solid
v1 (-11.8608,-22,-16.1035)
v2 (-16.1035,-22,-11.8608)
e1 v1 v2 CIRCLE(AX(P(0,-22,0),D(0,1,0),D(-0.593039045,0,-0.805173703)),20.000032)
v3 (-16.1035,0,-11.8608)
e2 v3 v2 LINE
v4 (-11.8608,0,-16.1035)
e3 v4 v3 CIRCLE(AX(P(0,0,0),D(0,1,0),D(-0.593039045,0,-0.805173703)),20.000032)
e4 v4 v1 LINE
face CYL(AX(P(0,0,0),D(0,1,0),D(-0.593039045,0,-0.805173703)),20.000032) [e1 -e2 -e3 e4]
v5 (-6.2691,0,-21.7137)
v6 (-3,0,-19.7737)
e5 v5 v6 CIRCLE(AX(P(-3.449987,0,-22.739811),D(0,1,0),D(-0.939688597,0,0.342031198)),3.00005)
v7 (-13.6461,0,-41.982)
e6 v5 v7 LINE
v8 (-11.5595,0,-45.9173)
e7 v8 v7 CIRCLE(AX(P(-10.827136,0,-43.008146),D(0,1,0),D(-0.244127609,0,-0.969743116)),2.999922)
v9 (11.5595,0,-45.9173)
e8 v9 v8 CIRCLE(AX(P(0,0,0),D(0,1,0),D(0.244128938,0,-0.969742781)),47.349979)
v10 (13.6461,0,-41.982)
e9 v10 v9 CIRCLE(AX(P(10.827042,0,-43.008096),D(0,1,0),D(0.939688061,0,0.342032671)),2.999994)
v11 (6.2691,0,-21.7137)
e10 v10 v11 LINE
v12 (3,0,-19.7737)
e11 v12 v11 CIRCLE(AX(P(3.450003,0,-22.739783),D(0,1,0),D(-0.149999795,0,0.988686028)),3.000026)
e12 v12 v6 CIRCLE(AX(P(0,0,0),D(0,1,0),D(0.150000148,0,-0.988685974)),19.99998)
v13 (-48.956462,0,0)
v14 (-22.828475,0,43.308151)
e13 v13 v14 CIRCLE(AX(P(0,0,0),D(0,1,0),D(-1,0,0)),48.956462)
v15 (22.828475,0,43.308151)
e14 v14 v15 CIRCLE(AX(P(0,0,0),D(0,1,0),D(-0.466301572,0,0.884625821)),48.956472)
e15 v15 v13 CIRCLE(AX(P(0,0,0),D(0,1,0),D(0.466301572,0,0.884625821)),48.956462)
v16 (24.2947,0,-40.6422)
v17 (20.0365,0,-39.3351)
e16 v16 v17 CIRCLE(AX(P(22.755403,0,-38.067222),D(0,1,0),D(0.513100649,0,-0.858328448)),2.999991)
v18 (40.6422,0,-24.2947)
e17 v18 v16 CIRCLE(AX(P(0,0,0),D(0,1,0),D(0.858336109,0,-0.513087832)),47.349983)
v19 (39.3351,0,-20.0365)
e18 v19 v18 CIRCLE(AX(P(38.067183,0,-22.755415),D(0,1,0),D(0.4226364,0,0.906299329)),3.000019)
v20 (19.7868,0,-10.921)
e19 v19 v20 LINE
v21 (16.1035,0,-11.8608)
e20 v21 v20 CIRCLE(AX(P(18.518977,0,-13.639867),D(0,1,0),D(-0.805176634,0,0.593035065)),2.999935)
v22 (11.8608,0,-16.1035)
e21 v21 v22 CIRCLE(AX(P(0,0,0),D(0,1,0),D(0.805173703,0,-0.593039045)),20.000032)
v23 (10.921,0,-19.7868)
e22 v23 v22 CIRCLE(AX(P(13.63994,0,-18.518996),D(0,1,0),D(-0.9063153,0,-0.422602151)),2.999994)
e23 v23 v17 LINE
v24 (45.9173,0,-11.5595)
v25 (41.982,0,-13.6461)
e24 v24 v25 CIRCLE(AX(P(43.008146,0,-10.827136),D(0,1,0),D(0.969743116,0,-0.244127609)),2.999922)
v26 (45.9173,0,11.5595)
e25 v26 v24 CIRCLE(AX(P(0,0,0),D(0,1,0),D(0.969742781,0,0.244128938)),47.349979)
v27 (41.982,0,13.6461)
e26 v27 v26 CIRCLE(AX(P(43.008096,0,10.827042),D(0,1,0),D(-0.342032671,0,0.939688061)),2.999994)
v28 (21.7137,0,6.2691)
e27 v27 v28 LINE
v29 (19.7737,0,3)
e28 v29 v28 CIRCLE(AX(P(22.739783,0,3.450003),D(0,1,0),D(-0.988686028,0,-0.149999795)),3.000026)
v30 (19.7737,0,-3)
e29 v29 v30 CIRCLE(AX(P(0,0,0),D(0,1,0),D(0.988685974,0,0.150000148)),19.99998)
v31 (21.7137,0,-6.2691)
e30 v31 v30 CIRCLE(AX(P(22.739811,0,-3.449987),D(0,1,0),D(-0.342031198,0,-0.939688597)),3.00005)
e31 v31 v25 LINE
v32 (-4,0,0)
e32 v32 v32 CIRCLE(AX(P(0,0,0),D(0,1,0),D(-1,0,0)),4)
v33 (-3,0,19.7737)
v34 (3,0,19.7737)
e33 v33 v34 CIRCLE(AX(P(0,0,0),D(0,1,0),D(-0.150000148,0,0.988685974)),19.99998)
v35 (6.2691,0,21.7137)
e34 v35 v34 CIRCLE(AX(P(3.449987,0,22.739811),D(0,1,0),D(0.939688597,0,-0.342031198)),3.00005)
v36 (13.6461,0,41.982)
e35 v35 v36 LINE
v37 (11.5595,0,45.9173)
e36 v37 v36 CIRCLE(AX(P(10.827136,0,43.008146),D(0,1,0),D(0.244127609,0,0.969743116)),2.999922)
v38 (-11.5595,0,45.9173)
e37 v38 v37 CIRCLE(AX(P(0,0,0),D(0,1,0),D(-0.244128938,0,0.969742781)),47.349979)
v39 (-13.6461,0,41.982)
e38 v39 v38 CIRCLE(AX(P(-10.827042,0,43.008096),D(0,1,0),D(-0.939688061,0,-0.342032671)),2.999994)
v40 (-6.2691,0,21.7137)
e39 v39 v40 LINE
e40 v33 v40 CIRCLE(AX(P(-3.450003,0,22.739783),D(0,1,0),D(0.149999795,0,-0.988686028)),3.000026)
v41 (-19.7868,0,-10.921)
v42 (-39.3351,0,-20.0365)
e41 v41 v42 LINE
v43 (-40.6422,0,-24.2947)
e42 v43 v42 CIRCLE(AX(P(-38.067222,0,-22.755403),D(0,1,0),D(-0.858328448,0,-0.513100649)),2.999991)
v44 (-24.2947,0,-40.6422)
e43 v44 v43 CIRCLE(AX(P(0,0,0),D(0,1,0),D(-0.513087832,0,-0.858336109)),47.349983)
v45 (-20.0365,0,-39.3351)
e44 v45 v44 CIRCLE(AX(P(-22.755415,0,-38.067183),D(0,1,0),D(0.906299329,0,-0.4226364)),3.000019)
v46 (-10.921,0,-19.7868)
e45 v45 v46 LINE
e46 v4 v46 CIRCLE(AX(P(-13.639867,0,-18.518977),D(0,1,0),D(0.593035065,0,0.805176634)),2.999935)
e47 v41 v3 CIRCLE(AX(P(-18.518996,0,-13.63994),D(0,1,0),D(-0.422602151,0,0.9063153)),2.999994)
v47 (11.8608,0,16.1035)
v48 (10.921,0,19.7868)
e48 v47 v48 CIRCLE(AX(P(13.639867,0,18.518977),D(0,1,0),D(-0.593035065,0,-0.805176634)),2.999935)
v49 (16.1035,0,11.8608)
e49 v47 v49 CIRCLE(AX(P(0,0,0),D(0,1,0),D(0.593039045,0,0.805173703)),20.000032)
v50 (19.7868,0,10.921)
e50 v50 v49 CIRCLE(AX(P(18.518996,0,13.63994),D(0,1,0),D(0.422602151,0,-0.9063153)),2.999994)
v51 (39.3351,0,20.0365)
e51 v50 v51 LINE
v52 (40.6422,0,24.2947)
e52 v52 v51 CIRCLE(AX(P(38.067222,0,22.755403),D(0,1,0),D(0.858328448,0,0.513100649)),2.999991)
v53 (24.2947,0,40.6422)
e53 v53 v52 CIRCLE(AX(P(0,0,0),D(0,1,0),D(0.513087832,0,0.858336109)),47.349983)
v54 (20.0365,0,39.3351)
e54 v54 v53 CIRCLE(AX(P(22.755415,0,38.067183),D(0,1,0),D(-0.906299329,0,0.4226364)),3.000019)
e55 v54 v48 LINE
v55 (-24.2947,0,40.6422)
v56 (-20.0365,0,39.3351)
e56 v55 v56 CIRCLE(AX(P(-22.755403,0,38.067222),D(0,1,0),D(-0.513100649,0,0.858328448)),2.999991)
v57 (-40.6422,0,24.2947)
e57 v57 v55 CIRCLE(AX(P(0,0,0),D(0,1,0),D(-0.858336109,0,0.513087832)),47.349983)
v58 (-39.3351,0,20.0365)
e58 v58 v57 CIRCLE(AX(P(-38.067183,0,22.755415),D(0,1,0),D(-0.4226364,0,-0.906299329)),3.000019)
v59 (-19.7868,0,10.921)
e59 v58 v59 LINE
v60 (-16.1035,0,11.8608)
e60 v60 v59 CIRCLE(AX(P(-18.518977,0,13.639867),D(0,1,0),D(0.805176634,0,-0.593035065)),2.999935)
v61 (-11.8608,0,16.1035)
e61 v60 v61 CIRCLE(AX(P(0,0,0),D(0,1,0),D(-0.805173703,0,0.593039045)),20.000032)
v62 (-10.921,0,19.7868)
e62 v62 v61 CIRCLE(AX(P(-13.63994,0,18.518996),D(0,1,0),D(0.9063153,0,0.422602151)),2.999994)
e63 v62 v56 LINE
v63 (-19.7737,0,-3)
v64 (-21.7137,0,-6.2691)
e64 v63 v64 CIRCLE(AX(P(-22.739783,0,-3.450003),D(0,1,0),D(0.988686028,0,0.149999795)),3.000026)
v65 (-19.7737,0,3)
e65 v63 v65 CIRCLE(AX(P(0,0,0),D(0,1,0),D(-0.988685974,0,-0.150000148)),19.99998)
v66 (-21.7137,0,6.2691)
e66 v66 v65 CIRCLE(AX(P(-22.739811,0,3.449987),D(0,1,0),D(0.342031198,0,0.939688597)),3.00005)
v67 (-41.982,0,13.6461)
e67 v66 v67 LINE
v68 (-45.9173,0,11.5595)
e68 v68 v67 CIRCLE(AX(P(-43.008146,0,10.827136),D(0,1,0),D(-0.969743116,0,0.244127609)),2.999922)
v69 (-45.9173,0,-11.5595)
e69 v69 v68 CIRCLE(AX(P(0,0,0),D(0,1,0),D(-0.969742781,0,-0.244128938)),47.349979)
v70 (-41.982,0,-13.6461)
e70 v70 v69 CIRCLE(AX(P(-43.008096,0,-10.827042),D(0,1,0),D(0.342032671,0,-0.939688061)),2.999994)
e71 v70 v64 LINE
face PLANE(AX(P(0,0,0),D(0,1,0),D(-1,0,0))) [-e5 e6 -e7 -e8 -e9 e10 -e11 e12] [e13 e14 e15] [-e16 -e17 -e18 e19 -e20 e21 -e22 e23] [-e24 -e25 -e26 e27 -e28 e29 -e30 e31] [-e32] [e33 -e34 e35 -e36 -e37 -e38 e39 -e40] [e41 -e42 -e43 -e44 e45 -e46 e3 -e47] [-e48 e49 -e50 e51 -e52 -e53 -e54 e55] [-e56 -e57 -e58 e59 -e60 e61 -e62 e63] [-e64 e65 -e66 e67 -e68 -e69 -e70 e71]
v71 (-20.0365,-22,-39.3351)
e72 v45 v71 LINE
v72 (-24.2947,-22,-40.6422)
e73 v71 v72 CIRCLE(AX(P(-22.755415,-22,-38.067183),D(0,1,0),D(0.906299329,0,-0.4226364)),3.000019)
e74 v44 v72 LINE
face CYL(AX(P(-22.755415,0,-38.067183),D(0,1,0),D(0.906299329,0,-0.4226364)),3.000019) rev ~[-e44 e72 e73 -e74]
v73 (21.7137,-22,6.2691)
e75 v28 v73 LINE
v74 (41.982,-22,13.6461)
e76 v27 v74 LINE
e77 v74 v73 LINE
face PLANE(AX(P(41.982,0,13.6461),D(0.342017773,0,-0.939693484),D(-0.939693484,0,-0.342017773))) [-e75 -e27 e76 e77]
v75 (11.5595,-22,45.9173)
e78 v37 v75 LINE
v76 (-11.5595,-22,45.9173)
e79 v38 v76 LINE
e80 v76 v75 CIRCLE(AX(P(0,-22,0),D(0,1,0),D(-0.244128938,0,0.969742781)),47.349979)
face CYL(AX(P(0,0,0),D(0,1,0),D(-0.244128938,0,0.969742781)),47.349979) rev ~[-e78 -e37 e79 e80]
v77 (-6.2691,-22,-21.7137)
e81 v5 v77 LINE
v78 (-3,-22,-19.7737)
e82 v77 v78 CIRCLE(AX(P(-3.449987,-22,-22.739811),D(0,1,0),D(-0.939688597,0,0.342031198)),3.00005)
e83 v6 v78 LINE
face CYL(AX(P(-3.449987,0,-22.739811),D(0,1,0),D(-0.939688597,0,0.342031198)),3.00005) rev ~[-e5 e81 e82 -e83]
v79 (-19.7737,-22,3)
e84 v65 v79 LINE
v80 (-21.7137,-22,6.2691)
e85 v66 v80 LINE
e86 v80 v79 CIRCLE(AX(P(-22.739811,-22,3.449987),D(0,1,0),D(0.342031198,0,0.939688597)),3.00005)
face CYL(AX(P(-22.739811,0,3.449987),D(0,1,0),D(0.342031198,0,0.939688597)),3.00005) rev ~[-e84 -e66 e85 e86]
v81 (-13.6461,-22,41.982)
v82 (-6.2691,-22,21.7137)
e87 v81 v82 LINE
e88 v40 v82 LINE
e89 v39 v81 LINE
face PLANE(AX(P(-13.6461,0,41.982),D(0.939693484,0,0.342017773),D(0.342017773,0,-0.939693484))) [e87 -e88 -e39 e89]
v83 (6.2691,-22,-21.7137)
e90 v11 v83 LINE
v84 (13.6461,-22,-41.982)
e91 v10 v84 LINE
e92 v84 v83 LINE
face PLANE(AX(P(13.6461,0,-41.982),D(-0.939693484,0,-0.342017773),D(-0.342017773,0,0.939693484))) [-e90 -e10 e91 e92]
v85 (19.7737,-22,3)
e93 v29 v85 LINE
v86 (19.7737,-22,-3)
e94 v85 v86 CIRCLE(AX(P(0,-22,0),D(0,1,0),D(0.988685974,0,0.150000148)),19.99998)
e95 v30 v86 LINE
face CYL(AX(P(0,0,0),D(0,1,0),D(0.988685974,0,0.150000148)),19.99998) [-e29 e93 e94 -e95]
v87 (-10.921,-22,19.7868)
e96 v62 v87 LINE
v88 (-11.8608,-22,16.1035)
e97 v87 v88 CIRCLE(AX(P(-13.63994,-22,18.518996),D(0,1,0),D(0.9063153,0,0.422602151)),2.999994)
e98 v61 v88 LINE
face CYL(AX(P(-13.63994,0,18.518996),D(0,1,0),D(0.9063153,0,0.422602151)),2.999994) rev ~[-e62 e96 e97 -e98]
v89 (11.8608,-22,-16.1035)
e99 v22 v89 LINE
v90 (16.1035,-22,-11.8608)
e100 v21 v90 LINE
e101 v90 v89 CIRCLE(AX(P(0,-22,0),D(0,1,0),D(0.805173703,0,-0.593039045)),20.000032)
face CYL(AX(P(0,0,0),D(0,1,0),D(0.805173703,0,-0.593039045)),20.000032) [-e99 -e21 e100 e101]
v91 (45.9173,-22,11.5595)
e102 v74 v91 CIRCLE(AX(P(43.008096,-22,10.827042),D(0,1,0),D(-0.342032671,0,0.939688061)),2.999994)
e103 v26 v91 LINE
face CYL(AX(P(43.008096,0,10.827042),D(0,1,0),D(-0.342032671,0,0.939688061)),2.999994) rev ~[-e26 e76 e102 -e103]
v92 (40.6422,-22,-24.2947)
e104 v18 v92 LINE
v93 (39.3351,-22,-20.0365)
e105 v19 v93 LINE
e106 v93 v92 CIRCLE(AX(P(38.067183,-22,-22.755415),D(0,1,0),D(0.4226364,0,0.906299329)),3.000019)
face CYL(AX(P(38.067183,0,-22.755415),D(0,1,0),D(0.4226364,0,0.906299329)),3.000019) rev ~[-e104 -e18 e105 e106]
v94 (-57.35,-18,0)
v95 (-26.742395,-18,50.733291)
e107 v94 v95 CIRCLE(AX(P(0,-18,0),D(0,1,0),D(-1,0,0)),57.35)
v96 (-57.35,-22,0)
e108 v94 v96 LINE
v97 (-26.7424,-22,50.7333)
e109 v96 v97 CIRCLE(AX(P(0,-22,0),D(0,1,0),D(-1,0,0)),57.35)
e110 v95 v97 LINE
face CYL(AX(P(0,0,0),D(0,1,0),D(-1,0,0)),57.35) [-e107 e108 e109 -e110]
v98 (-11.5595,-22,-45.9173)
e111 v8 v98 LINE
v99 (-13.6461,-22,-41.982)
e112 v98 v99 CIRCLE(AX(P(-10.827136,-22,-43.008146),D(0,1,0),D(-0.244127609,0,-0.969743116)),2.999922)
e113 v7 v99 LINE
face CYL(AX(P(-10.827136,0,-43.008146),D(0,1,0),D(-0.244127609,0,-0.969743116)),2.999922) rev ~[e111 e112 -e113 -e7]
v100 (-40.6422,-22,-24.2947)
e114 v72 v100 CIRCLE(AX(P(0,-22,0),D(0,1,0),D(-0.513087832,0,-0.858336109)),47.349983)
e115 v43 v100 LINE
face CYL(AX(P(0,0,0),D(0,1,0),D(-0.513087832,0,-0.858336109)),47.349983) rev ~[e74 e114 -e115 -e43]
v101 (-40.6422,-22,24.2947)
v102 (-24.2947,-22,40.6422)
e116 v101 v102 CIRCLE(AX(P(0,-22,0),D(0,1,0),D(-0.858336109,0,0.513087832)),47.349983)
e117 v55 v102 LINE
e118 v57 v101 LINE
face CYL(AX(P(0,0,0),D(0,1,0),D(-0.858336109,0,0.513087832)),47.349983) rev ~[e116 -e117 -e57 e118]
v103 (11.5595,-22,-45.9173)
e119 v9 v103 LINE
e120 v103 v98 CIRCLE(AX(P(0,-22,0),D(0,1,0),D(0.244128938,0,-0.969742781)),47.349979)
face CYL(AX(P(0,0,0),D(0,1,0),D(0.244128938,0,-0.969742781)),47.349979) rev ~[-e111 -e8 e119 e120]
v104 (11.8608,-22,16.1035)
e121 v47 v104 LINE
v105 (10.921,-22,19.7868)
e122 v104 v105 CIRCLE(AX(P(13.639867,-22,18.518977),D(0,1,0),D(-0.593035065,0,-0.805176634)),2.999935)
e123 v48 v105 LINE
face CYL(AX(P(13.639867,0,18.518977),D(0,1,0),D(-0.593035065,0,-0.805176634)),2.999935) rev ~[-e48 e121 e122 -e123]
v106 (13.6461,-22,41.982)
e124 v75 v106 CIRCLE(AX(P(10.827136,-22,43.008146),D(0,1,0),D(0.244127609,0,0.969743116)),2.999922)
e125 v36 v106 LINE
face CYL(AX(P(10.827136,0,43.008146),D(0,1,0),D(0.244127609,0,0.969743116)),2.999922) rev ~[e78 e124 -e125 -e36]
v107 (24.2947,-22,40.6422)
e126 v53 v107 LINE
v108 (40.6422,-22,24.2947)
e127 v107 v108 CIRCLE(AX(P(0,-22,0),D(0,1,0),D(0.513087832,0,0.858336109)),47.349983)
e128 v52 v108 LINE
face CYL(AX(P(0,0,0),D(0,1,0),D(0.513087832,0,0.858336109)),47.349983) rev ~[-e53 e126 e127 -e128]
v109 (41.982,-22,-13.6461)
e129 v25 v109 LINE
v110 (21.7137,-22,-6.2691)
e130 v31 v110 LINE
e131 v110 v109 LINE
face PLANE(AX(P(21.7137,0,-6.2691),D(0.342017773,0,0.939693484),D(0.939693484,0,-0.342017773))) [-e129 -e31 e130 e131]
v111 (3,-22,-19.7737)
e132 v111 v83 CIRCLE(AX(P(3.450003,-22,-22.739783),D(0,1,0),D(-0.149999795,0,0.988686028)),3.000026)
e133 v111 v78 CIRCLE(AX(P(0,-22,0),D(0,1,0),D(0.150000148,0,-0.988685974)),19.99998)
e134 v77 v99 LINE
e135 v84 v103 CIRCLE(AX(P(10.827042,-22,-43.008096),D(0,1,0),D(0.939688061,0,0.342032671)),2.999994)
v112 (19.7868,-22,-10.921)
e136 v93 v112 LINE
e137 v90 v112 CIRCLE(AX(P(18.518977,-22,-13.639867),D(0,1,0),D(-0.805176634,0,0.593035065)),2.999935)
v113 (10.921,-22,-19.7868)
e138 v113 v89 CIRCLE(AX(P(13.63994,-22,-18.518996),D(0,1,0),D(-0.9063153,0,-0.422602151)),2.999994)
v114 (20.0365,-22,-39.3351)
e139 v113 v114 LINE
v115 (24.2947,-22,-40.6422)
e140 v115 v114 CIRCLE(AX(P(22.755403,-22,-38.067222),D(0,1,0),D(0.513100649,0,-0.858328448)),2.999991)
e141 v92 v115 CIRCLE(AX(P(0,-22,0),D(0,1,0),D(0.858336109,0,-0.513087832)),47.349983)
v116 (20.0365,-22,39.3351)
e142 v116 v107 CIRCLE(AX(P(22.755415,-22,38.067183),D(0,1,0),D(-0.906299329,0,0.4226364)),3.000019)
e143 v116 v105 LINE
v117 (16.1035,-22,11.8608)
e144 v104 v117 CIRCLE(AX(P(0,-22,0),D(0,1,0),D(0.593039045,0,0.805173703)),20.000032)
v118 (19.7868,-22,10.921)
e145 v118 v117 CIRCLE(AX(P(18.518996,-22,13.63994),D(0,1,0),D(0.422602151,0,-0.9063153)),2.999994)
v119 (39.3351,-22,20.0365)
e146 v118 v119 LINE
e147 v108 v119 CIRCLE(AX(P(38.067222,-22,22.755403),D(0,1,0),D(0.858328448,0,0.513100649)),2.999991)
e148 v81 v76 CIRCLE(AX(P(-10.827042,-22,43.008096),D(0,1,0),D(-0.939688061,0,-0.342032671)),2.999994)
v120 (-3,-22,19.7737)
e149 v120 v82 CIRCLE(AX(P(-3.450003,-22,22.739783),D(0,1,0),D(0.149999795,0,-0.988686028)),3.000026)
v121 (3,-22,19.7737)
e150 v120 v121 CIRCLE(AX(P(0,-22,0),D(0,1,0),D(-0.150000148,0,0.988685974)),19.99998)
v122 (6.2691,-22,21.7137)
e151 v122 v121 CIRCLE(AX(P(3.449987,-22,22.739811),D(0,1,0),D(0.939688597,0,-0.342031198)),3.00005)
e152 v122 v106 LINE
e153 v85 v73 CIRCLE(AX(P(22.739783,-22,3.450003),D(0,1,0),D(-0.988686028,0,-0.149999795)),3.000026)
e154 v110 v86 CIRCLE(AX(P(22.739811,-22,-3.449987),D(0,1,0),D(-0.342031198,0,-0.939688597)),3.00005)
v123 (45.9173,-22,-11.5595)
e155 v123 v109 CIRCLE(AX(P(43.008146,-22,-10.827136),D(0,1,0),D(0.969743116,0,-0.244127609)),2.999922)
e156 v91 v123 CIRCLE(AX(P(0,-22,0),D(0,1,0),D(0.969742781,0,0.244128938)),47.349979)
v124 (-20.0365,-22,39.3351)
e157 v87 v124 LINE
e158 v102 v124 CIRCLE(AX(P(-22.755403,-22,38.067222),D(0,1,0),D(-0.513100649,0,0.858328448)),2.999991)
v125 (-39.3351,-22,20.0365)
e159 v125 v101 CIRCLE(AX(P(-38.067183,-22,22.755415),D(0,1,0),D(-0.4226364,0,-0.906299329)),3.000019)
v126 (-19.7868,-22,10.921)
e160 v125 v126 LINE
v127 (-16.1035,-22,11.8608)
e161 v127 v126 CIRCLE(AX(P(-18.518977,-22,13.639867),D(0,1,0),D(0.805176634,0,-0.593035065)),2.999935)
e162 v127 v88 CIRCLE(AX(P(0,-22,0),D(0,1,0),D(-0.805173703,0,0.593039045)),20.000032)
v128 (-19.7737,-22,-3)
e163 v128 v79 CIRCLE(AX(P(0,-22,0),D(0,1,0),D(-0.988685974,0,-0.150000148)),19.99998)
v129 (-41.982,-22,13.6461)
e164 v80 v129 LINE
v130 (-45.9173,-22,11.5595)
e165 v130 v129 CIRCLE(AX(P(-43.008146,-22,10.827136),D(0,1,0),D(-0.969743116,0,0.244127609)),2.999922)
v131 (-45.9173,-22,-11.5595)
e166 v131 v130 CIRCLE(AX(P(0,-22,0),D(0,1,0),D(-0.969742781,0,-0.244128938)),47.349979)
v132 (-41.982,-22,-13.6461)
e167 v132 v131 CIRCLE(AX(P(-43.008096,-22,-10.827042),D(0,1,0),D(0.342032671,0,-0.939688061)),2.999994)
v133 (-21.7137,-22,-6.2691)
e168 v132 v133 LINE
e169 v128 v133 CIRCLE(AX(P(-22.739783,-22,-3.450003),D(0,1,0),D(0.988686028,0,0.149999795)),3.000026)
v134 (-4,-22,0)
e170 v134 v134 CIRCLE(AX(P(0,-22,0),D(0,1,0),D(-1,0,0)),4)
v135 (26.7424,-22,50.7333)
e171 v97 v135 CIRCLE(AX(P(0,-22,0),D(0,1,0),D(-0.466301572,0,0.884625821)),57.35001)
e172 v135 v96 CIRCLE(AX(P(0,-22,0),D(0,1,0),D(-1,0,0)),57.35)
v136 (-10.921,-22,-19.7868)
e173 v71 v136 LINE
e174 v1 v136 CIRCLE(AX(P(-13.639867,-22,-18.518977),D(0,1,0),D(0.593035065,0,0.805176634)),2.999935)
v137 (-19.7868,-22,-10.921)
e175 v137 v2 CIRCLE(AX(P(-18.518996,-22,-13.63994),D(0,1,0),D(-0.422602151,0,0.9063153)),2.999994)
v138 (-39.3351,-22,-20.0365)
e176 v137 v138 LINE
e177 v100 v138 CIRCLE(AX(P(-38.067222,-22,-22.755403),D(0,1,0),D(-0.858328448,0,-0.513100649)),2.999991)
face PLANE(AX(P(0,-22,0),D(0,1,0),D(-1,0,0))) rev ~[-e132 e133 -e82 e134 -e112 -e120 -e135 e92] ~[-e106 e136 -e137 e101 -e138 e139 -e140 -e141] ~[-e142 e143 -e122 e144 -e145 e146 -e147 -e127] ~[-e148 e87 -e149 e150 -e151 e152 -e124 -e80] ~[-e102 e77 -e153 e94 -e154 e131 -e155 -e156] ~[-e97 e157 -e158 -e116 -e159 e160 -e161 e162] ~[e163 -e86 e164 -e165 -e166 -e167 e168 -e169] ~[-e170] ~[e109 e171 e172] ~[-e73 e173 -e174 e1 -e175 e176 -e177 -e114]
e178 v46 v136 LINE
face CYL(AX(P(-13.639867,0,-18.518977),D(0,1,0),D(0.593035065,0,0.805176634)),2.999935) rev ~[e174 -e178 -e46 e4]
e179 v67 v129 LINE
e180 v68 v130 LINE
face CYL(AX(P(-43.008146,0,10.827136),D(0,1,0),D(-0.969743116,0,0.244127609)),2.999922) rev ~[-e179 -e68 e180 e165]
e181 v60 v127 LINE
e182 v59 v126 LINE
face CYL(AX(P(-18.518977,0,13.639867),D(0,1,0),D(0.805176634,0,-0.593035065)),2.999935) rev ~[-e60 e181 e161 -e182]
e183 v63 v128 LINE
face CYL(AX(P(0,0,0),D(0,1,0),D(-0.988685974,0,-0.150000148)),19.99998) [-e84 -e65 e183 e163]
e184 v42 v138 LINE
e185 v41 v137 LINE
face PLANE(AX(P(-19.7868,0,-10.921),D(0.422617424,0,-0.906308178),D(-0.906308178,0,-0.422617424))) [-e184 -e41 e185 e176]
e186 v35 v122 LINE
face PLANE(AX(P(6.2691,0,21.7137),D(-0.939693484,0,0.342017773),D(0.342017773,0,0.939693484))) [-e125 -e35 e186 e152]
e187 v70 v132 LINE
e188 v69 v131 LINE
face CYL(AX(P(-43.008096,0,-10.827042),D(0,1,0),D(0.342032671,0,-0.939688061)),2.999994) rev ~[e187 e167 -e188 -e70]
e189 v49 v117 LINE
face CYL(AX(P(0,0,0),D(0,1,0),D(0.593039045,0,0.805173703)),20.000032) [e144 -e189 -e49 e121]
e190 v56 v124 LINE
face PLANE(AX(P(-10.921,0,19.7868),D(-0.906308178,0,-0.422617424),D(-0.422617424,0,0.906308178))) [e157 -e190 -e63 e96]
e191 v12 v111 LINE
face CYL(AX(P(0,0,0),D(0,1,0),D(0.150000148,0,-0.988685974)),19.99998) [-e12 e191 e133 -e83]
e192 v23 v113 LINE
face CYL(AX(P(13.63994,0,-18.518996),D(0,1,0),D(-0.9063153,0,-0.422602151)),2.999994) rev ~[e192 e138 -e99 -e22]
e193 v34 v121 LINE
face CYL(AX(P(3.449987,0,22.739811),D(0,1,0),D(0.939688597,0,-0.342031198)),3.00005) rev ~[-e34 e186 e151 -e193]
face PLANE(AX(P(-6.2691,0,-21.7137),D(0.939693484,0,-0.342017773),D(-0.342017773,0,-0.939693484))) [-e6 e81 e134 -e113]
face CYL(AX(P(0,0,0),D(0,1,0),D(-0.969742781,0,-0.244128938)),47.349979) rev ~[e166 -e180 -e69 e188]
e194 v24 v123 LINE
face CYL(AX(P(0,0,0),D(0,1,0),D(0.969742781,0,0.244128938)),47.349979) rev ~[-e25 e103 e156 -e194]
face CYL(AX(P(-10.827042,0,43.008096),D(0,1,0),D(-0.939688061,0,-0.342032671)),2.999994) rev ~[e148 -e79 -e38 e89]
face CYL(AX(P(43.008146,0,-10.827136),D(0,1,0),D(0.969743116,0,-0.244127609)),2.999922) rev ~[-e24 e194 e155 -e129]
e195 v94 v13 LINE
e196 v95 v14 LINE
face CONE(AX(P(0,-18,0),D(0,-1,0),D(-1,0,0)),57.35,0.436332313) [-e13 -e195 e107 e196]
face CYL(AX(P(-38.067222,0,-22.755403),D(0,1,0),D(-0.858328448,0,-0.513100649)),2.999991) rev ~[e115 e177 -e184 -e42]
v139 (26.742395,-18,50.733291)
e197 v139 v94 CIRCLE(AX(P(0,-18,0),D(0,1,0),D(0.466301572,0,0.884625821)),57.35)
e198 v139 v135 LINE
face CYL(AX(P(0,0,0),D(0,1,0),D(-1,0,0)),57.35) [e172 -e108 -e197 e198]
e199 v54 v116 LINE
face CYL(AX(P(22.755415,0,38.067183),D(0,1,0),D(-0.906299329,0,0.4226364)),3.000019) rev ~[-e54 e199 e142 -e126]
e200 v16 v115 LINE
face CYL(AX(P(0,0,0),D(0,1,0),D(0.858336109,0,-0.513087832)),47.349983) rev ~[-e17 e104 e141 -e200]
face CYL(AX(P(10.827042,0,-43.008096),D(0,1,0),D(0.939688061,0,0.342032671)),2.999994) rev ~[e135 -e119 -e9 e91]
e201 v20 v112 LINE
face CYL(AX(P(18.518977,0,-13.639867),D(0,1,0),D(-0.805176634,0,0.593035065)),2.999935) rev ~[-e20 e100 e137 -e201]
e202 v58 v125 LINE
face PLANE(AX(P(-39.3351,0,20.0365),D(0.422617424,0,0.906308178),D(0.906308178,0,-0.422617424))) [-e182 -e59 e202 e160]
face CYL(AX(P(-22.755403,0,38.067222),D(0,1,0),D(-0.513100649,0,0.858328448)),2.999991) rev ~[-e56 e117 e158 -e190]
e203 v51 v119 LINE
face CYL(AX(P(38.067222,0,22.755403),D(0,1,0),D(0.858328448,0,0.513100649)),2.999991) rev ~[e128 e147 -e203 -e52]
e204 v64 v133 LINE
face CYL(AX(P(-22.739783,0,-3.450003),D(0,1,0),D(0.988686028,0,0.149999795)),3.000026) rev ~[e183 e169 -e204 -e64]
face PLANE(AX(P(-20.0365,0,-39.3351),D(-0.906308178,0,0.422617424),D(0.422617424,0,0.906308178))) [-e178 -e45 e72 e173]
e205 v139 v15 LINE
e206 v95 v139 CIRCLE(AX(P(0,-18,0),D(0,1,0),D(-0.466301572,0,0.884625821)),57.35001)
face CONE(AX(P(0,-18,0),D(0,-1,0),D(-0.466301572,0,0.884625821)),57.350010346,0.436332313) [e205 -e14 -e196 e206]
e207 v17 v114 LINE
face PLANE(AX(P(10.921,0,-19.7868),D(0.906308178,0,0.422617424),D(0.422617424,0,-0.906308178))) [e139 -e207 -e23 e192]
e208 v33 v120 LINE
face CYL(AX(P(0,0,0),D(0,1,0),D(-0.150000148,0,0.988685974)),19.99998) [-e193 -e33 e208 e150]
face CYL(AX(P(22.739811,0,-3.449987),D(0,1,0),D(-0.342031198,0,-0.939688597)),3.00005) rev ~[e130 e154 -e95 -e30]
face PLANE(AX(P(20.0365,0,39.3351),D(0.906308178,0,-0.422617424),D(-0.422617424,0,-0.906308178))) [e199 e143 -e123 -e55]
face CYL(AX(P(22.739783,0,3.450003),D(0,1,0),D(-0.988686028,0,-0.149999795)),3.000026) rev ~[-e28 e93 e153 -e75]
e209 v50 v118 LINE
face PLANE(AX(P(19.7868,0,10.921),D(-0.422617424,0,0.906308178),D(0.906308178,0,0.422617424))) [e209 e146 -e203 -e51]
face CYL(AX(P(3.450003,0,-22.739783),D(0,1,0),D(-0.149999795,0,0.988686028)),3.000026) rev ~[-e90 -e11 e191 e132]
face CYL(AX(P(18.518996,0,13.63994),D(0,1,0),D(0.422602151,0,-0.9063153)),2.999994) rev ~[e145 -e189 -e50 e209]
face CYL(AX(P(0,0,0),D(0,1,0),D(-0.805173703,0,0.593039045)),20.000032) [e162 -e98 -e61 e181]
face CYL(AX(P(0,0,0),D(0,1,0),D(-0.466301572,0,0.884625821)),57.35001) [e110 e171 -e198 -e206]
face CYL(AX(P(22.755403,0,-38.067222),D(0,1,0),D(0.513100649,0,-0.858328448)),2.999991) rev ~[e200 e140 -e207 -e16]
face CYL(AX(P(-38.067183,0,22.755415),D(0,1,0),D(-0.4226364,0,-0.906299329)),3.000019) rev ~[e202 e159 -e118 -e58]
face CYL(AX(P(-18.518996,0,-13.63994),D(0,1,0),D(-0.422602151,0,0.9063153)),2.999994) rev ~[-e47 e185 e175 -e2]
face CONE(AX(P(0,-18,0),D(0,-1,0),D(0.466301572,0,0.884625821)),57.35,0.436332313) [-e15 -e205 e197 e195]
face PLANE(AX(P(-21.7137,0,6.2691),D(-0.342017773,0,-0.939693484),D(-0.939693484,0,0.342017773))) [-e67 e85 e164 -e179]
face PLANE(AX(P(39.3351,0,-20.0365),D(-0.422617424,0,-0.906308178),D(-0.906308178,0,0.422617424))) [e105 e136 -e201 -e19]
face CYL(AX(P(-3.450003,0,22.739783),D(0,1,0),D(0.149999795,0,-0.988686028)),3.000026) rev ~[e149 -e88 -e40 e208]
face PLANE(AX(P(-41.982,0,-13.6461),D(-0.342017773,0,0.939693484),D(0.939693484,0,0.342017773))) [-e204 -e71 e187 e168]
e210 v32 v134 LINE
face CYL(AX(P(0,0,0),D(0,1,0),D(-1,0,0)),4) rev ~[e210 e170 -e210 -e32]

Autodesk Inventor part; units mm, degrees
ref_plane "YZ Plane" through (0, 0, 0) normal (1, 0, 0) x (0, 1, 0)
ref_plane "XZ Plane" through (0, 0, 0) normal (0, 1, 0) x (-1, 0, 0)
ref_plane "XY Plane" through (0, 0, 0) normal (0, 0, 1) x (1, 0, 0)
sketch "Esquisse1" plane through (0, 0, 0) normal (0, 1, 0) x (-1, 0, 0)
  arc A0 (26.7424, 50.7333) -> (-26.7424, 50.7333) centre (0, 0) ccw
  circle A1 centre (0, 0) radius 57.35
  line L0 (0, -80.29) -> (0, 80.29) construction
  line L1 (-80.29, 0) -> (80.29, 0) construction
  circle A2 centre (0, 0) radius 4
  line L2 (-6.2691, 21.7137) -> (-13.6461, 41.982)
  line L3 (13.6461, 41.982) -> (6.2691, 21.7137)
  arc A3 (11.5595, 45.9173) -> (-11.5595, 45.9173) centre (0, 0) ccw
  arc A4 (-11.5595, 45.9173) -> (-13.6461, 41.982) centre (-10.8271, 43.0081) ccw
  arc A5 (13.6461, 41.982) -> (11.5595, 45.9173) centre (10.8271, 43.0081) ccw
  circle A6 centre (0, 0) radius 16 construction
  circle A7 centre (0, 0) radius 57.35 construction
  arc A8 (3, 19.7737) -> (-3, 19.7737) centre (0, 0) ccw
  arc A9 (-6.2691, 21.7137) -> (-3, 19.7737) centre (-3.45, 22.7398) ccw
  arc A10 (3, 19.7737) -> (6.2691, 21.7137) centre (3.45, 22.7398) ccw
  line L4 (-19.7868, 10.921) -> (-39.3351, 20.0365)
  line L5 (-20.0365, 39.3351) -> (-10.921, 19.7868)
  arc A11 (-24.2947, 40.6422) -> (-40.6422, 24.2947) centre (0, 0) ccw
  arc A12 (-40.6422, 24.2947) -> (-39.3351, 20.0365) centre (-38.0672, 22.7554) ccw
  arc A13 (-20.0365, 39.3351) -> (-24.2947, 40.6422) centre (-22.7554, 38.0672) ccw
  arc A14 (-11.8608, 16.1035) -> (-16.1035, 11.8608) centre (0, 0) ccw
  arc A15 (-19.7868, 10.921) -> (-16.1035, 11.8608) centre (-18.519, 13.6399) ccw
  arc A16 (-11.8608, 16.1035) -> (-10.921, 19.7868) centre (-13.6399, 18.519) ccw
  line L6 (-21.7137, -6.2691) -> (-41.982, -13.6461)
  line L7 (-41.982, 13.6461) -> (-21.7137, 6.2691)
  arc A17 (-45.9173, 11.5595) -> (-45.9173, -11.5595) centre (0, 0) ccw
  arc A18 (-45.9173, -11.5595) -> (-41.982, -13.6461) centre (-43.0081, -10.8271) ccw
  arc A19 (-41.982, 13.6461) -> (-45.9173, 11.5595) centre (-43.0081, 10.8271) ccw
  arc A20 (-19.7737, 3) -> (-19.7737, -3) centre (0, 0) ccw
  arc A21 (-21.7137, -6.2691) -> (-19.7737, -3) centre (-22.7398, -3.45) ccw
  arc A22 (-19.7737, 3) -> (-21.7137, 6.2691) centre (-22.7398, 3.45) ccw
  line L8 (-10.921, -19.7868) -> (-20.0365, -39.3351)
  line L9 (-39.3351, -20.0365) -> (-19.7868, -10.921)
  arc A23 (-40.6422, -24.2947) -> (-24.2947, -40.6422) centre (0, 0) ccw
  arc A24 (-24.2947, -40.6422) -> (-20.0365, -39.3351) centre (-22.7554, -38.0672) ccw
  arc A25 (-39.3351, -20.0365) -> (-40.6422, -24.2947) centre (-38.0672, -22.7554) ccw
  arc A26 (-16.1035, -11.8608) -> (-11.8608, -16.1035) centre (0, 0) ccw
  arc A27 (-10.921, -19.7868) -> (-11.8608, -16.1035) centre (-13.6399, -18.519) ccw
  arc A28 (-16.1035, -11.8608) -> (-19.7868, -10.921) centre (-18.519, -13.6399) ccw
  line L10 (6.2691, -21.7137) -> (13.6461, -41.982)
  line L11 (-13.6461, -41.982) -> (-6.2691, -21.7137)
  arc A29 (-11.5595, -45.9173) -> (11.5595, -45.9173) centre (0, 0) ccw
  arc A30 (11.5595, -45.9173) -> (13.6461, -41.982) centre (10.8271, -43.0081) ccw
  arc A31 (-13.6461, -41.982) -> (-11.5595, -45.9173) centre (-10.8271, -43.0081) ccw
  arc A32 (-3, -19.7737) -> (3, -19.7737) centre (0, 0) ccw
  arc A33 (6.2691, -21.7137) -> (3, -19.7737) centre (3.45, -22.7398) ccw
  arc A34 (-3, -19.7737) -> (-6.2691, -21.7137) centre (-3.45, -22.7398) ccw
  line L12 (19.7868, -10.921) -> (39.3351, -20.0365)
  line L13 (20.0365, -39.3351) -> (10.921, -19.7868)
  arc A35 (24.2947, -40.6422) -> (40.6422, -24.2947) centre (0, 0) ccw
  arc A36 (40.6422, -24.2947) -> (39.3351, -20.0365) centre (38.0672, -22.7554) ccw
  arc A37 (20.0365, -39.3351) -> (24.2947, -40.6422) centre (22.7554, -38.0672) ccw
  arc A38 (11.8608, -16.1035) -> (16.1035, -11.8608) centre (0, 0) ccw
  arc A39 (19.7868, -10.921) -> (16.1035, -11.8608) centre (18.519, -13.6399) ccw
  arc A40 (11.8608, -16.1035) -> (10.921, -19.7868) centre (13.6399, -18.519) ccw
  line L14 (21.7137, 6.2691) -> (41.982, 13.6461)
  line L15 (41.982, -13.6461) -> (21.7137, -6.2691)
  arc A41 (45.9173, -11.5595) -> (45.9173, 11.5595) centre (0, 0) ccw
  arc A42 (45.9173, 11.5595) -> (41.982, 13.6461) centre (43.0081, 10.8271) ccw
  arc A43 (41.982, -13.6461) -> (45.9173, -11.5595) centre (43.0081, -10.8271) ccw
  arc A44 (19.7737, -3) -> (19.7737, 3) centre (0, 0) ccw
  arc A45 (21.7137, 6.2691) -> (19.7737, 3) centre (22.7398, 3.45) ccw
  arc A46 (19.7737, -3) -> (21.7137, -6.2691) centre (22.7398, -3.45) ccw
  line L16 (10.921, 19.7868) -> (20.0365, 39.3351)
  line L17 (39.3351, 20.0365) -> (19.7868, 10.921)
  arc A47 (40.6422, 24.2947) -> (24.2947, 40.6422) centre (0, 0) ccw
  arc A48 (24.2947, 40.6422) -> (20.0365, 39.3351) centre (22.7554, 38.0672) ccw
  arc A49 (39.3351, 20.0365) -> (40.6422, 24.2947) centre (38.0672, 22.7554) ccw
  arc A50 (16.1035, 11.8608) -> (11.8608, 16.1035) centre (0, 0) ccw
  arc A51 (10.921, 19.7868) -> (11.8608, 16.1035) centre (13.6399, 18.519) ccw
  arc A52 (16.1035, 11.8608) -> (19.7868, 10.921) centre (18.519, 13.6399) ccw
  point P0 (0, 0)
  point P1 (-14.7432, 44.9962)
  point P2 (14.7432, 44.9962)
  point P3 (5.3773, 19.2636)
  point P4 (-5.3773, 19.2636)
  point P5 (-42.2422, 21.3921)
  point P6 (-21.3921, 42.2422)
  point P7 (-9.8191, 17.4237)
  point P8 (-17.4237, 9.8191)
  point P9 (-44.9962, -14.7432)
  point P10 (-44.9962, 14.7432)
  point P11 (-19.2636, 5.3773)
  point P12 (-19.2636, -5.3773)
  point P13 (-21.3921, -42.2422)
  point P14 (-42.2422, -21.3921)
  point P15 (-17.4237, -9.8191)
  point P16 (-9.8191, -17.4237)
  point P17 (14.7432, -44.9962)
  point P18 (-14.7432, -44.9962)
  point P19 (-5.3773, -19.2636)
  point P20 (5.3773, -19.2636)
  point P21 (42.2422, -21.3921)
  point P22 (21.3921, -42.2422)
  point P23 (9.8191, -17.4237)
  point P24 (17.4237, -9.8191)
  point P25 (44.9962, 14.7432)
  point P26 (44.9962, -14.7432)
  point P27 (19.2636, -5.3773)
  point P28 (19.2636, 5.3773)
  point P29 (21.3921, 42.2422)
  point P30 (42.2422, 21.3921)
  point P31 (17.4237, 9.8191)
  point P32 (9.8191, 17.4237)
  dimension "d0" = 8
  dimension "d2" = 3
  dimension "d3" = 10
  dimension "d5" = 40
  dimension "d15" = 20
  dimension "d16" = 3
  dimension "d17" = 6
  dimension "d20" = 360
extrude "Extrusion1" add sketch "Esquisse1" against normal blind 22
chamfer "Chanfrein1" distance 18 angle 25 1 edges at (57.35, 0, 0) measured on face at (-31.6781, -14.6667, -47.8071)
properties part number "Colossus_7kW_Rotor"
